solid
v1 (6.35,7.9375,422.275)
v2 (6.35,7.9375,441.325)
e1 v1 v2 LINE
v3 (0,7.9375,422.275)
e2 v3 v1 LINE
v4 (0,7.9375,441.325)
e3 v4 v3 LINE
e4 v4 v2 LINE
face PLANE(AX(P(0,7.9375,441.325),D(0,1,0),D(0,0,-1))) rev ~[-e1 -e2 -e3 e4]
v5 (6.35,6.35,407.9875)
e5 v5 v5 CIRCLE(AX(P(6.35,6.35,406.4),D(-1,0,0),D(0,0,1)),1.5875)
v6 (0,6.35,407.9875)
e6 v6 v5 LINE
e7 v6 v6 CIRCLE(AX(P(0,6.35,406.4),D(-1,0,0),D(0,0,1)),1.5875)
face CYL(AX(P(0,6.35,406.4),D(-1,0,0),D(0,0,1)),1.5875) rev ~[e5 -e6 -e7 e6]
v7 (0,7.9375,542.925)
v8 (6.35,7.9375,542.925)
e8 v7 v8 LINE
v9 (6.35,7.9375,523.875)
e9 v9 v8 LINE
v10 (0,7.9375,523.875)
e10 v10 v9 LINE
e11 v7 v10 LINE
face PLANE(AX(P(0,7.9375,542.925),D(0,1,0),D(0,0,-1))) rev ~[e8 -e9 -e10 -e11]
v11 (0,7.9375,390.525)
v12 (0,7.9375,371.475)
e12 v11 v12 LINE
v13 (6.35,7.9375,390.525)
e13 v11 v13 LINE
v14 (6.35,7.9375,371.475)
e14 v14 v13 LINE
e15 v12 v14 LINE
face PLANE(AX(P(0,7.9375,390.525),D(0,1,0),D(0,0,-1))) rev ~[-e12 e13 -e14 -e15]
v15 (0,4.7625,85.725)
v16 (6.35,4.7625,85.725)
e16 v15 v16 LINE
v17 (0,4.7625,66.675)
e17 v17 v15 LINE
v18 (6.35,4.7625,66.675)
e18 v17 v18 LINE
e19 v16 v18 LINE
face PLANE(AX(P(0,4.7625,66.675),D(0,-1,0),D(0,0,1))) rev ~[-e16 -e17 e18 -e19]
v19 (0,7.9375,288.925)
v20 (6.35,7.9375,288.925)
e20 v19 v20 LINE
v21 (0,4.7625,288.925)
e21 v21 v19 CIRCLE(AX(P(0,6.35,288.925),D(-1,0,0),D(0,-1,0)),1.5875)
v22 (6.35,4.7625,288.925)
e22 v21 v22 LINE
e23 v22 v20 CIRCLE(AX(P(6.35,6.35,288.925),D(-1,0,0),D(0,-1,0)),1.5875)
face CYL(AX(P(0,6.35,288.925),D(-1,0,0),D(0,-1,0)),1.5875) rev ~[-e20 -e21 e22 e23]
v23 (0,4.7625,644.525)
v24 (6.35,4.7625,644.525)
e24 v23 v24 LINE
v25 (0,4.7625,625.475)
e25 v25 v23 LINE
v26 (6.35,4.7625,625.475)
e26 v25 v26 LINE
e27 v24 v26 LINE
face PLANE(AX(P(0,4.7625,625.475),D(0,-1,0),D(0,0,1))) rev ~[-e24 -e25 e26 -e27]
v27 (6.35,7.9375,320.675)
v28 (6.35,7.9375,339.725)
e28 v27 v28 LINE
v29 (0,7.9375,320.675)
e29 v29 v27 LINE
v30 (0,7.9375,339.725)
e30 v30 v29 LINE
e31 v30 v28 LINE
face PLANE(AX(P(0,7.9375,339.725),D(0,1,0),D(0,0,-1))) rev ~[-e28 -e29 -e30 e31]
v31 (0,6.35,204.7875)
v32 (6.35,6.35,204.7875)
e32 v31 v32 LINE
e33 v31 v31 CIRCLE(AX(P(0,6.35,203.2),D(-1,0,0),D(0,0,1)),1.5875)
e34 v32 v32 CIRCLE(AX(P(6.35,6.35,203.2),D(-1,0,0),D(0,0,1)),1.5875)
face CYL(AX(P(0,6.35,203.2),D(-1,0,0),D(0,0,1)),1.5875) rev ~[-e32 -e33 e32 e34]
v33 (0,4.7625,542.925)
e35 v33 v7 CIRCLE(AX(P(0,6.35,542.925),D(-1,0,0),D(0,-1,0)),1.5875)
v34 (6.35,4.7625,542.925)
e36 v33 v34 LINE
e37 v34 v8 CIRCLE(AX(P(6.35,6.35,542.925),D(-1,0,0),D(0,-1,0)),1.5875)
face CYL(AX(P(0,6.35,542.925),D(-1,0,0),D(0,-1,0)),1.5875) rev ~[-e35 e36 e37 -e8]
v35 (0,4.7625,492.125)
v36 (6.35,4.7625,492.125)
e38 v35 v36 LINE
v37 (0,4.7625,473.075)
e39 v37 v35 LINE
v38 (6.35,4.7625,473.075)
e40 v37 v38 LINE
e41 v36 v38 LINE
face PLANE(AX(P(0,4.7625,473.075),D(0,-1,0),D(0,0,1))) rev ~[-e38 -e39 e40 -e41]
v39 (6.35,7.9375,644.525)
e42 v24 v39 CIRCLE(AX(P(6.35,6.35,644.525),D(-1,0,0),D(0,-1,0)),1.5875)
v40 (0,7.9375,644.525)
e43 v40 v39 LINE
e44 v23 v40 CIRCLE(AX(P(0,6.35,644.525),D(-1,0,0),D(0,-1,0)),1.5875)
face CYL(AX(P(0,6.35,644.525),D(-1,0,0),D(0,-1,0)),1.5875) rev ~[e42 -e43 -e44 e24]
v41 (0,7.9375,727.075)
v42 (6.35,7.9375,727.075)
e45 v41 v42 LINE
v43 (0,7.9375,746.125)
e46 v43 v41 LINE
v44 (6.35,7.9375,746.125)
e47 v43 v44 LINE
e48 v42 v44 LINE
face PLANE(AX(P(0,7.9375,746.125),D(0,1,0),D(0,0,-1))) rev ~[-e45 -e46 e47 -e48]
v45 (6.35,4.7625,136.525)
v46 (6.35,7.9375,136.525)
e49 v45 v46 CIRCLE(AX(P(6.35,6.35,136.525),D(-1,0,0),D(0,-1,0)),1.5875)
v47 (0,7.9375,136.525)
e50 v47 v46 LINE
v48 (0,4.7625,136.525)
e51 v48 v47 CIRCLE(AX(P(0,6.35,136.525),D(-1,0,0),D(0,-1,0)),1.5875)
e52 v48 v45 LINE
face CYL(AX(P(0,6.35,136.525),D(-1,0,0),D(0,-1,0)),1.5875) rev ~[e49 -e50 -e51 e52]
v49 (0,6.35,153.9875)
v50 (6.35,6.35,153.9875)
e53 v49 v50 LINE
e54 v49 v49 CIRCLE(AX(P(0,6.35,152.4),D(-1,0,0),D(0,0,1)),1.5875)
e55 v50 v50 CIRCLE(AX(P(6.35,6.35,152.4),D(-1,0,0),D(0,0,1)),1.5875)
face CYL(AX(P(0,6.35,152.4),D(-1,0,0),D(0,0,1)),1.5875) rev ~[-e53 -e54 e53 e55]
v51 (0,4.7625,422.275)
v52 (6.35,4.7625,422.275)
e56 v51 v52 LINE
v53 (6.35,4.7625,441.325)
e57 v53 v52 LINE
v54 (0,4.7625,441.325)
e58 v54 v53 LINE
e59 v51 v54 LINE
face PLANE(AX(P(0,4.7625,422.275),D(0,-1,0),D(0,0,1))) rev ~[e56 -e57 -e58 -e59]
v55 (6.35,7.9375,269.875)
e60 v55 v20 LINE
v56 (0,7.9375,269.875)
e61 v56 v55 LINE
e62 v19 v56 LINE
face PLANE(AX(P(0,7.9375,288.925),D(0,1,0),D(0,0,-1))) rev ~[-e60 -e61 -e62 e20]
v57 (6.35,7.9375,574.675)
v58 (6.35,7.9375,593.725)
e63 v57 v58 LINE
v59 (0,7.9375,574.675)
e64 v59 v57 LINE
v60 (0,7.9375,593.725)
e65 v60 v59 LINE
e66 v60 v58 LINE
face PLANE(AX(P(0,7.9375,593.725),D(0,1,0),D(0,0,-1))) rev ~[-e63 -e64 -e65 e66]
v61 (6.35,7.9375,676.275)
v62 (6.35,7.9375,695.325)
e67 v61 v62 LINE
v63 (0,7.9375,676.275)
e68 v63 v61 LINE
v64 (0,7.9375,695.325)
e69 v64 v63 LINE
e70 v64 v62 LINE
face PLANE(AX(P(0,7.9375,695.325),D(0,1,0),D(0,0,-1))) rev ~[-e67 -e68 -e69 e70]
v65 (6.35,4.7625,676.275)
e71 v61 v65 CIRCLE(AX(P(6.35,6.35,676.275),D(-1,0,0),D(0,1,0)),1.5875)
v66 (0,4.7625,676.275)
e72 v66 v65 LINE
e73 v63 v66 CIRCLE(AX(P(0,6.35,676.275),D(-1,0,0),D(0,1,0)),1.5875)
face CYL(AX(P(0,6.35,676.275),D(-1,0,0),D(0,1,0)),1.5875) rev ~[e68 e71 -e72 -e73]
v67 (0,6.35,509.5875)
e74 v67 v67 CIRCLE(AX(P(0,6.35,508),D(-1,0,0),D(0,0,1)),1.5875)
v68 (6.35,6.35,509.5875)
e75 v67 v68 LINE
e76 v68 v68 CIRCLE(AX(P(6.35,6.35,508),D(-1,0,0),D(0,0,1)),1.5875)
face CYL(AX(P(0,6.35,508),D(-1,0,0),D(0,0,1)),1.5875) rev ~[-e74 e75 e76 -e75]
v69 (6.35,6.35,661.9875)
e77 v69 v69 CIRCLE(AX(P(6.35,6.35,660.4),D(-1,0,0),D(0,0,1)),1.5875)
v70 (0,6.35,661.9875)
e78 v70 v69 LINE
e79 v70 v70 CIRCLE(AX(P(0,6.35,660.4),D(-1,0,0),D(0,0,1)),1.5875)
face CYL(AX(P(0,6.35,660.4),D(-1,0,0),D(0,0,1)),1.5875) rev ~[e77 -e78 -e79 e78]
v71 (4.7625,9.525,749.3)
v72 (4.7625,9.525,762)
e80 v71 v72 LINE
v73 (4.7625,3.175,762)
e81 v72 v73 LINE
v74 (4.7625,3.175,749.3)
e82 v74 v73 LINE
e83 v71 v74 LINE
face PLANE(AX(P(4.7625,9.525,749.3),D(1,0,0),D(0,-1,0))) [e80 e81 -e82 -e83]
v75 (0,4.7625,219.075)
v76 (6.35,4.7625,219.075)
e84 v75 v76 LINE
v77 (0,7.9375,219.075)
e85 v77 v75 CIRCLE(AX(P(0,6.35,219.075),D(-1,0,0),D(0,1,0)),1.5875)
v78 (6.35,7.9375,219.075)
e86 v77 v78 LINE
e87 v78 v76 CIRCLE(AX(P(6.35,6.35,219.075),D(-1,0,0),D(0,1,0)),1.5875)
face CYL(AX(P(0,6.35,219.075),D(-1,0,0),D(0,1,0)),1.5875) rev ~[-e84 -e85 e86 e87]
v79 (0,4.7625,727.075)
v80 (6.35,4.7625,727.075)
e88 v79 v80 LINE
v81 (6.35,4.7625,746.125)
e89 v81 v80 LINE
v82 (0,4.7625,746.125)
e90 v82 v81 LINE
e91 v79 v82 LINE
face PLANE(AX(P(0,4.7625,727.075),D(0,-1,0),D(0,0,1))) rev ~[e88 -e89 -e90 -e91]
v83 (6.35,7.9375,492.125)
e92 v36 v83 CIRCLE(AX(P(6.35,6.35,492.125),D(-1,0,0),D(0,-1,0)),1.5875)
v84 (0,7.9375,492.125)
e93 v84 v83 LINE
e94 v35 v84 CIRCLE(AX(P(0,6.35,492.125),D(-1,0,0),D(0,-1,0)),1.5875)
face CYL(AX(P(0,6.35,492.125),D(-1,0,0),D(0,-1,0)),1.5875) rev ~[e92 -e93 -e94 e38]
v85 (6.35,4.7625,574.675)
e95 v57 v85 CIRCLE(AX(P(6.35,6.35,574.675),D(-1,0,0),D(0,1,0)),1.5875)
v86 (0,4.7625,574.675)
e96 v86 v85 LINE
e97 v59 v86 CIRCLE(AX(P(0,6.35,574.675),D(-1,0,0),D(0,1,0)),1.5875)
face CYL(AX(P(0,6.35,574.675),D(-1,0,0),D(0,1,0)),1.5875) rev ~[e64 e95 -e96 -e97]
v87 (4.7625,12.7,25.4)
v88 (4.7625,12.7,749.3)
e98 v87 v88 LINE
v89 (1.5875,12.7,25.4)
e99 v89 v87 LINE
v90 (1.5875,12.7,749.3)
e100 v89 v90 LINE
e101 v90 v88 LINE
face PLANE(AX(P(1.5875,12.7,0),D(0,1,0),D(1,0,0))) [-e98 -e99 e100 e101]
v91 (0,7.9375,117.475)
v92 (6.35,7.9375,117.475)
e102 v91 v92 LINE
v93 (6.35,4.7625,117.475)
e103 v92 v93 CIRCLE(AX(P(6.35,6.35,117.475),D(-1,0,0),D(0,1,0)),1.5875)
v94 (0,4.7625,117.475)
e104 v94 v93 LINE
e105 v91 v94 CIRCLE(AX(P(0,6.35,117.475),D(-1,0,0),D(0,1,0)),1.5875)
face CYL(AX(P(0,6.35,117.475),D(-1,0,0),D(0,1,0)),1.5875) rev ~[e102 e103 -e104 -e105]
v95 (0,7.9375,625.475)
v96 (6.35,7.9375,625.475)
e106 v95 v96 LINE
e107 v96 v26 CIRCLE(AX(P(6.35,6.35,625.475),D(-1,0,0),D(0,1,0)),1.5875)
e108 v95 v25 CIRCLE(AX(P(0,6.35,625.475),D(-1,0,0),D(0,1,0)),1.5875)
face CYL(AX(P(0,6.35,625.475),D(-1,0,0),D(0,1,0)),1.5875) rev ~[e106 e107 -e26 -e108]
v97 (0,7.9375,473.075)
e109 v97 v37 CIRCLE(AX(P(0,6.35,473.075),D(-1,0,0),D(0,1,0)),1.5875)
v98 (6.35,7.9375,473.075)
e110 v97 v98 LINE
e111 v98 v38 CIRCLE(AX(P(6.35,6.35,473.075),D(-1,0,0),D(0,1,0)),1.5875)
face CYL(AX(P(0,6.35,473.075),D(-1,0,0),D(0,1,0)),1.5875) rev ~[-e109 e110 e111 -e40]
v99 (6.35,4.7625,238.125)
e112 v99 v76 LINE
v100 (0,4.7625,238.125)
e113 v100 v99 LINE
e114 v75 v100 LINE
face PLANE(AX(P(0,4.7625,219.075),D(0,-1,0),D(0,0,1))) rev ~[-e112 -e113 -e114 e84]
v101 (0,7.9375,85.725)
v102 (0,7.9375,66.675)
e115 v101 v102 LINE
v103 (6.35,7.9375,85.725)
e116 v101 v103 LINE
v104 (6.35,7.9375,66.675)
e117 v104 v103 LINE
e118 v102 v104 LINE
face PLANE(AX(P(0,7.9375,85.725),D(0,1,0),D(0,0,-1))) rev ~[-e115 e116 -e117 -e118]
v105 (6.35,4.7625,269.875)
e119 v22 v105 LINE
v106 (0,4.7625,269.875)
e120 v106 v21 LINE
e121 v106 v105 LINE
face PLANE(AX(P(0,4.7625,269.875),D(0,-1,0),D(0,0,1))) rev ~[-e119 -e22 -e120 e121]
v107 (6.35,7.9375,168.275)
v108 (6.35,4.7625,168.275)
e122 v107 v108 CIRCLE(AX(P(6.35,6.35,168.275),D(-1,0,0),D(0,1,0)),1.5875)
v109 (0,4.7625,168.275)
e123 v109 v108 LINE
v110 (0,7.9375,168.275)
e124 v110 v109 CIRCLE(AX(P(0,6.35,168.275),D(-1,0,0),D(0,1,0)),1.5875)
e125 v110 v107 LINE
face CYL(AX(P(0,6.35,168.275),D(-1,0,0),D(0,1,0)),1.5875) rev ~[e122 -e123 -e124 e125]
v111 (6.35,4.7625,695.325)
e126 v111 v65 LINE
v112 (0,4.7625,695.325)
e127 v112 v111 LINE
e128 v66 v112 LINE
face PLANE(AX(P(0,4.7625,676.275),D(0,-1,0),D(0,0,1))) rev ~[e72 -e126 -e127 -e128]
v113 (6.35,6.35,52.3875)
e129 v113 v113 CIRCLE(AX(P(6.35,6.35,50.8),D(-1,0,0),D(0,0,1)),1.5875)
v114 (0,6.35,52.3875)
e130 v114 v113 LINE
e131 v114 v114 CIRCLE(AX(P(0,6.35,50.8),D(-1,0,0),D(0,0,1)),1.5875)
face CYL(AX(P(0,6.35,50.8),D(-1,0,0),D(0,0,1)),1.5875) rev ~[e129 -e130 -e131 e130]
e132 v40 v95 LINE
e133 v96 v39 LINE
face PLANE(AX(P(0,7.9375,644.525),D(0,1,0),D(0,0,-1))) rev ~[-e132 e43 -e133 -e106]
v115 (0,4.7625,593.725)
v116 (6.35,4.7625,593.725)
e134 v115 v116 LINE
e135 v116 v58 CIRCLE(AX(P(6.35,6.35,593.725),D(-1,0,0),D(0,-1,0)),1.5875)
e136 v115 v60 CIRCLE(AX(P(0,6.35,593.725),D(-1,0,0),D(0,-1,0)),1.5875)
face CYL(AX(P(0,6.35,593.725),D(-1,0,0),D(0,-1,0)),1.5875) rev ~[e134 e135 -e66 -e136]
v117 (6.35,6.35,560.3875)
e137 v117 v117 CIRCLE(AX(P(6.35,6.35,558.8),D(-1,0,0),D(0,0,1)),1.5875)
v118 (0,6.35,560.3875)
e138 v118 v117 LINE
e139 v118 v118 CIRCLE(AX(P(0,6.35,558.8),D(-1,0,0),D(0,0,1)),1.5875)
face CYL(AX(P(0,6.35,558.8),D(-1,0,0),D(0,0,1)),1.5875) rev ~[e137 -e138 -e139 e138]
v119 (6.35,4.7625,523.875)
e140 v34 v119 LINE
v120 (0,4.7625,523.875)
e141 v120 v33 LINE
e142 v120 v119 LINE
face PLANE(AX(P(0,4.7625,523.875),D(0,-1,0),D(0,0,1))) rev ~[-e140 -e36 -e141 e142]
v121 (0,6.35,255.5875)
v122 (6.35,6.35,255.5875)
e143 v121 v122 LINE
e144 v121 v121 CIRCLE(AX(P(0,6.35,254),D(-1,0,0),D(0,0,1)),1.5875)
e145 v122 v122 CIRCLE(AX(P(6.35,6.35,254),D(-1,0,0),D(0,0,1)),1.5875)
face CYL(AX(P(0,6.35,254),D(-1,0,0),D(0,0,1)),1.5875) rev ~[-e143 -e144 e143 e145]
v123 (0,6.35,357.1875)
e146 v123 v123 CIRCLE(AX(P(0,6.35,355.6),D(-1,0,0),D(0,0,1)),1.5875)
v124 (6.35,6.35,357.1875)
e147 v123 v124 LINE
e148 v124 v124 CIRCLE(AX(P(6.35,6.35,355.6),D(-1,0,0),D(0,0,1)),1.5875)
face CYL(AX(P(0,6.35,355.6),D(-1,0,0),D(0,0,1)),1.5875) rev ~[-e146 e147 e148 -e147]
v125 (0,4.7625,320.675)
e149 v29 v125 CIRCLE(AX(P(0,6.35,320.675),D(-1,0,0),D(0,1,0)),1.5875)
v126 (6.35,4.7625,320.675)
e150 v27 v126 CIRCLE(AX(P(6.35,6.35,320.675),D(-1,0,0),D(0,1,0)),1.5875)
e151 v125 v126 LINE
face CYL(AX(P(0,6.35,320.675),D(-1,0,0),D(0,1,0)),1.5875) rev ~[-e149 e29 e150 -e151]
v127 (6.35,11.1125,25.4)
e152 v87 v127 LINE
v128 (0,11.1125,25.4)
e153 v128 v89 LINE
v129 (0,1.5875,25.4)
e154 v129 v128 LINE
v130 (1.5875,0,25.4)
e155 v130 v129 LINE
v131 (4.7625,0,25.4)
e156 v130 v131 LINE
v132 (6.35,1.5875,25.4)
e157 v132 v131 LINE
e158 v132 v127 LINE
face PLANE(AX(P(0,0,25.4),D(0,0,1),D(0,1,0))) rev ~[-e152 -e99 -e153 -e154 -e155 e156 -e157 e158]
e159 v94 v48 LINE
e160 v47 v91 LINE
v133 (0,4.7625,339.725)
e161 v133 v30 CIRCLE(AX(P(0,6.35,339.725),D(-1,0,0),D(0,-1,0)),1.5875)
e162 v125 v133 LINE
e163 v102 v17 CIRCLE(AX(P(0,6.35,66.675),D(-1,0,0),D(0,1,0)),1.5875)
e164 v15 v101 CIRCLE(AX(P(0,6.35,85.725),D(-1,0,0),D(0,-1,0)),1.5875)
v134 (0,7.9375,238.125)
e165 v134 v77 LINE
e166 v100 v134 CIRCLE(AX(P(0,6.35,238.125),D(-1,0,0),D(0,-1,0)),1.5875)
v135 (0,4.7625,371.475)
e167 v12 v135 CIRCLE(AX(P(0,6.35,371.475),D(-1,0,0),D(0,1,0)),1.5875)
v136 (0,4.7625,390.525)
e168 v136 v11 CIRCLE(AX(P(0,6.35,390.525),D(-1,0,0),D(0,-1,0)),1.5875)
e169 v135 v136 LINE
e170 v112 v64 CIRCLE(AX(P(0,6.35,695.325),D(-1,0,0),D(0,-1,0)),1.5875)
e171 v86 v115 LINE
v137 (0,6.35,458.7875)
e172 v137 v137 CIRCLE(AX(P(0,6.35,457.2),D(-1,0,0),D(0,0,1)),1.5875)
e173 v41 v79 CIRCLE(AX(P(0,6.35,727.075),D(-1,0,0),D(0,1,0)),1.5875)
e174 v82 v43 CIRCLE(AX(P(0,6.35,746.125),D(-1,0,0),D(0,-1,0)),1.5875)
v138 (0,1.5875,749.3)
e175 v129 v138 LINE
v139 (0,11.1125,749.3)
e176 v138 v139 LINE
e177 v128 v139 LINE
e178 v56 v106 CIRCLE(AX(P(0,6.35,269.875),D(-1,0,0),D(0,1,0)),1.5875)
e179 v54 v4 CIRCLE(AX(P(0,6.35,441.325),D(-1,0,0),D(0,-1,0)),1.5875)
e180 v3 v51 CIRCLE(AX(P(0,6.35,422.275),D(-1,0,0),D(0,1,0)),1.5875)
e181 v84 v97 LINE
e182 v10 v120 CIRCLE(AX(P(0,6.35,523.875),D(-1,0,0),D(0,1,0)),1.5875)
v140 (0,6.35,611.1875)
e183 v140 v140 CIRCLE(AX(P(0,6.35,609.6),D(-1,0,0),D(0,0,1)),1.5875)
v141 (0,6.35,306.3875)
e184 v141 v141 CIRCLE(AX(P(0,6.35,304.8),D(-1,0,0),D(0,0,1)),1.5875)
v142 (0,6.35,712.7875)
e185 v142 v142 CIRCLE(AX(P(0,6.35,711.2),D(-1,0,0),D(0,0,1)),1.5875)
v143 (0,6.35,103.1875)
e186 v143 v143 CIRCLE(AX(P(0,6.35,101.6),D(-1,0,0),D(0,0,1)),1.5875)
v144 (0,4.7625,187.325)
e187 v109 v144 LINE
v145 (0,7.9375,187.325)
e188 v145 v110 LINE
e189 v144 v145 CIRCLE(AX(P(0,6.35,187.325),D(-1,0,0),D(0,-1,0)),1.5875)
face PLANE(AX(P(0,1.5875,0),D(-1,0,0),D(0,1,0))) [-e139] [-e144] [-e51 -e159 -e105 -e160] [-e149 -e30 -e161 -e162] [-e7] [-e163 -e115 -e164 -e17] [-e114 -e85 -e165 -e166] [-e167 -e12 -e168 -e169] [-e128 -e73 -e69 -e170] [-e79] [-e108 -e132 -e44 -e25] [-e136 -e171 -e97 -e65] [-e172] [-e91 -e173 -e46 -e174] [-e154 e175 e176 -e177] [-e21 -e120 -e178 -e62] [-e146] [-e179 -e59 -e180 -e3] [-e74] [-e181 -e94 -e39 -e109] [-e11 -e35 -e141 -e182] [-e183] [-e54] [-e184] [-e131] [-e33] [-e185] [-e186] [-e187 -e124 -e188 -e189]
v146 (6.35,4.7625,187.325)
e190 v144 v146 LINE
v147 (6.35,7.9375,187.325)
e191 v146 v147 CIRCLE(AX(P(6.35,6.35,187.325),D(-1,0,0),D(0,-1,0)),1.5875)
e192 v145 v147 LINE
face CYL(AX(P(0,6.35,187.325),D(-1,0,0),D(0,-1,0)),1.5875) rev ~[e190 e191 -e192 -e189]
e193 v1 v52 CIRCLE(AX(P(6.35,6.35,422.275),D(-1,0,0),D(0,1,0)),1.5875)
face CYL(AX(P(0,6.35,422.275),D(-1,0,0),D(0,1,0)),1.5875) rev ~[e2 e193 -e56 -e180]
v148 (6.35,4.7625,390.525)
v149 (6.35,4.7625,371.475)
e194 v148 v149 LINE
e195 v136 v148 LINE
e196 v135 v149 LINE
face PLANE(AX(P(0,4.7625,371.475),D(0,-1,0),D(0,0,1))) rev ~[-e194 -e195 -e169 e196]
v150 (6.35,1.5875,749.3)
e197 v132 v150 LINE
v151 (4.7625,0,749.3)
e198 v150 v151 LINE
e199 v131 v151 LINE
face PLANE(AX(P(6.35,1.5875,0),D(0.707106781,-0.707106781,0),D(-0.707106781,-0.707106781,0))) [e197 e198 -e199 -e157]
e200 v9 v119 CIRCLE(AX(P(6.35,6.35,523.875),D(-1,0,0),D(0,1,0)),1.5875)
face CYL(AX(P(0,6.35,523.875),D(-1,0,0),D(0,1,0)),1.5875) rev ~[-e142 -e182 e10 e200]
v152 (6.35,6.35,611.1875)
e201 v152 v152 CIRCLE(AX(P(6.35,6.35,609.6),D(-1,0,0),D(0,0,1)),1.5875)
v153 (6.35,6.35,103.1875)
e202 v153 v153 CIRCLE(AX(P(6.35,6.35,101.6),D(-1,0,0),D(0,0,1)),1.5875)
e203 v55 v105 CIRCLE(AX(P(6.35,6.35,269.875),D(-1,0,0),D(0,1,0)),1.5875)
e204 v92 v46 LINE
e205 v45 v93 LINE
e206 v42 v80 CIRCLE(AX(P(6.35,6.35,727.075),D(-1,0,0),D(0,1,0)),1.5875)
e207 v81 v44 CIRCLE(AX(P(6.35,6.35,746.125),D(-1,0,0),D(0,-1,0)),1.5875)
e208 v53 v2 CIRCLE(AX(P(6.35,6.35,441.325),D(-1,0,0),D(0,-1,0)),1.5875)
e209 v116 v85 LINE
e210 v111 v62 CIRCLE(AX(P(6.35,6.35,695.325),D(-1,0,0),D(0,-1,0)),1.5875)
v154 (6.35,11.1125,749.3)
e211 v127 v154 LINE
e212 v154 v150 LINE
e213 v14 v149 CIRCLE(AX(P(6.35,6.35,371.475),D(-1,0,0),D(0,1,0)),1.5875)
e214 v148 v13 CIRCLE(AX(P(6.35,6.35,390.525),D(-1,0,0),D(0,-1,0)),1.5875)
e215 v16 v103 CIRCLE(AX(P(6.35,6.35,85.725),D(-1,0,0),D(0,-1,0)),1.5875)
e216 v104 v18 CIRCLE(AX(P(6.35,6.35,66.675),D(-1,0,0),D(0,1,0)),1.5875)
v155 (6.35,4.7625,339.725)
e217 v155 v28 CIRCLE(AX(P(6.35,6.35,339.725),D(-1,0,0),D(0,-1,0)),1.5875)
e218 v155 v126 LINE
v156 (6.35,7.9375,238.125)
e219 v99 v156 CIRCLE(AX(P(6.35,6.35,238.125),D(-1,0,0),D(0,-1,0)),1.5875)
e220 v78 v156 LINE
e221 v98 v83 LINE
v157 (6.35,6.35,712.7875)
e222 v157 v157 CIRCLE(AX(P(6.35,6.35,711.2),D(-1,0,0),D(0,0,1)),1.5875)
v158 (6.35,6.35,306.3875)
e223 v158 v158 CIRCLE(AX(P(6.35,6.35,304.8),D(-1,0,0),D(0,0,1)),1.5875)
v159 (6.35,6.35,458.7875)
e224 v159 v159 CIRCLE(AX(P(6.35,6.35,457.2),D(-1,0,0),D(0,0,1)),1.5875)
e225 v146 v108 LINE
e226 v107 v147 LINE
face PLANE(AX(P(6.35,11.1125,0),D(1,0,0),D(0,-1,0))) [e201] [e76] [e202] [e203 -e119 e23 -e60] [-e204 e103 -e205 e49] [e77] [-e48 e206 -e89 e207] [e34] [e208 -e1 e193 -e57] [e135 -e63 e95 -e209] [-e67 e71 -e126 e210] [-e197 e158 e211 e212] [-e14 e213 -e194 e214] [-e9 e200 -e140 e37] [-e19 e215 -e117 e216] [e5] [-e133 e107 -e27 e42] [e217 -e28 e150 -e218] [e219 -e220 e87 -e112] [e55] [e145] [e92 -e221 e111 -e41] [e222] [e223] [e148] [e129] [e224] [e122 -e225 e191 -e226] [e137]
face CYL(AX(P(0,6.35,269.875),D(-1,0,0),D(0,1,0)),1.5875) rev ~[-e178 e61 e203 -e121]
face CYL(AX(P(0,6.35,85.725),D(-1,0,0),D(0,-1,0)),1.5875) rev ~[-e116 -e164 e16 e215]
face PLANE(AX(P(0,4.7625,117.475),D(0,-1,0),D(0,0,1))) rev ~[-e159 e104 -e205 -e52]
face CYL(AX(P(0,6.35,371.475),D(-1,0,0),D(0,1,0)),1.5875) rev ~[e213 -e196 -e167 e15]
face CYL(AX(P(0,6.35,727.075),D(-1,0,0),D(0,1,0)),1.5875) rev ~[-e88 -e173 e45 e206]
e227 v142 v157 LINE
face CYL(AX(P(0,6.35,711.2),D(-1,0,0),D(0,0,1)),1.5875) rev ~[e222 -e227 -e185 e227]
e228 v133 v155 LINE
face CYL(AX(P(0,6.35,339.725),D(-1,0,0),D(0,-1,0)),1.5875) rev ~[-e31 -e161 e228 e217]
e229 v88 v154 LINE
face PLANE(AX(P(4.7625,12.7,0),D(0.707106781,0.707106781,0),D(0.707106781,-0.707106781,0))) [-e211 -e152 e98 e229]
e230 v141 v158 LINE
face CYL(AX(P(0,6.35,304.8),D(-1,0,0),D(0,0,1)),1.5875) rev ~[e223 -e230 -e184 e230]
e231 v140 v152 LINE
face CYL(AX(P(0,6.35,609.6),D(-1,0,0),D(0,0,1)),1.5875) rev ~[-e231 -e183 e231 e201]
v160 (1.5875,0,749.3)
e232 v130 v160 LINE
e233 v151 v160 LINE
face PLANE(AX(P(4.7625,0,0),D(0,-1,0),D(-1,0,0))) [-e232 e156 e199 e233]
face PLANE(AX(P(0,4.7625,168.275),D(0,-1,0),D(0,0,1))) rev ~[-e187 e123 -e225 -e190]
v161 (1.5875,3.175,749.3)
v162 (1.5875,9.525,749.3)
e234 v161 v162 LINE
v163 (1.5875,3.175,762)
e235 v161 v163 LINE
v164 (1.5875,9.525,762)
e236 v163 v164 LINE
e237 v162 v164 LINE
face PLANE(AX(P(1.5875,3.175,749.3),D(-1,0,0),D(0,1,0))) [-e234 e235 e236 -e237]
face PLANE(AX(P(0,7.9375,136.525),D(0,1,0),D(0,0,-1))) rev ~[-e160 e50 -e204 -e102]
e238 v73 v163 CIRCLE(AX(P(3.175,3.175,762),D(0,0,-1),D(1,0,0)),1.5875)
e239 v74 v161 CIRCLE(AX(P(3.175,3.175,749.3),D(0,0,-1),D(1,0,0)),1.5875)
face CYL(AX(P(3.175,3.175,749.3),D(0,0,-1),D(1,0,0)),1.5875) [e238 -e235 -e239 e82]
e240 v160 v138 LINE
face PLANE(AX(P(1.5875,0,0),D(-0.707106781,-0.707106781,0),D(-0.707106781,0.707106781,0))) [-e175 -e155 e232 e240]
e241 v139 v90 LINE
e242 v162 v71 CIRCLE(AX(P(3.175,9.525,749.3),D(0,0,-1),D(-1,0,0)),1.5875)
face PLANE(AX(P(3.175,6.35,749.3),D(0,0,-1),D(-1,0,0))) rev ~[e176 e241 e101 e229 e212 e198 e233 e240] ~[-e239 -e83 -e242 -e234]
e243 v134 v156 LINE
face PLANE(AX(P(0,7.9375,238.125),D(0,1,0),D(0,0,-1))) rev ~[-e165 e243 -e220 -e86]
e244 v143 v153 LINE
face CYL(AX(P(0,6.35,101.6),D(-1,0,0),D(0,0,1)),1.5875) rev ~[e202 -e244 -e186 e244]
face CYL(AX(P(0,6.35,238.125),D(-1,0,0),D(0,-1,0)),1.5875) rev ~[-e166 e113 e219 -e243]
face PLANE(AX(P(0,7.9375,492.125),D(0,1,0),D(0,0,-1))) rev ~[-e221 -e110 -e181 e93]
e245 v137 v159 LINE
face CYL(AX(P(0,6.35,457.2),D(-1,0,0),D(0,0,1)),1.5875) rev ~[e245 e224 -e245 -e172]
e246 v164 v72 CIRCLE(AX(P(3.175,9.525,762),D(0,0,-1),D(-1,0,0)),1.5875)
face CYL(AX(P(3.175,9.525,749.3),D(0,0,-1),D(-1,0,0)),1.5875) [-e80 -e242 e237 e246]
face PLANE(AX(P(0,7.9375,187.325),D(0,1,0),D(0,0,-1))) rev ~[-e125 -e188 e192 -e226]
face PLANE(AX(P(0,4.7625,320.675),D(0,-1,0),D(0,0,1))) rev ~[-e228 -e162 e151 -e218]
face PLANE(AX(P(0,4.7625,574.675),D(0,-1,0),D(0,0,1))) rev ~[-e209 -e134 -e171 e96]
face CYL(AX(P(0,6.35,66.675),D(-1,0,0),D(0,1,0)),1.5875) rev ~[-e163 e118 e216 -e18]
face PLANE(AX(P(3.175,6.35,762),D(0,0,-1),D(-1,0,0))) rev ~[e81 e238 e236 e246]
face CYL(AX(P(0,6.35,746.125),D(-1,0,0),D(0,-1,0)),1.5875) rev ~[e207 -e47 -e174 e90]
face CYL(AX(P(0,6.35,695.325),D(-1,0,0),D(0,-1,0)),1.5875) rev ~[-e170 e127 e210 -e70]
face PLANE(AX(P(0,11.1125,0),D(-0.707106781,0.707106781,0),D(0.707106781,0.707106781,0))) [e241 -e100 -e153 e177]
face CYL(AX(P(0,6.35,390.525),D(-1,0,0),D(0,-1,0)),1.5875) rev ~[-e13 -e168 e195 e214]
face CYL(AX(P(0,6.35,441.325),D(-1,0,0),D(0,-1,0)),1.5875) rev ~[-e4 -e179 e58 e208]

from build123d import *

# Parameters (mm, degrees)
BOSS_EXTRUDE1_DEPTH = 749.3
BOSS_EXTRUDE2_DEPTH = 12.7
SKETCH3_W           = 25.4
SKETCH3_H           = 12.7
CUT_EXTRUDE1_DEPTH  = 6.35
SKETCH4_R           = 1.5875
CUT_EXTRUDE2_DEPTH  = 70.358
SKETCH5_R           = 1.5875
CUT_EXTRUDE3_DEPTH  = 70.358


with BuildPart() as part:
    # Sketch1 → Boss-Extrude1 (new body)
    with BuildSketch(Plane.XY):
        Polygon((0, 11.1125), (1.5875, 12.7), (4.7625, 12.7), (6.35, 11.1125), (6.35, 1.5875), (4.7625, 0), (1.5875, 0), (0, 1.5875), align=None)
    extrude(amount=BOSS_EXTRUDE1_DEPTH)

    # Sketch2 → Boss-Extrude2 (add)
    with BuildSketch(Plane.XY.offset(749.3)):
        with BuildLine():
            Line((4.7625, 9.525), (4.7625, 3.175))
            ThreePointArc((4.7625, 3.175), (3.175, 1.5875), (1.5875, 3.175))
            Line((1.5875, 3.175), (1.5875, 9.525))
            ThreePointArc((1.5875, 9.525), (3.175, 11.1125), (4.7625, 9.525))
        make_face()
    extrude(amount=BOSS_EXTRUDE2_DEPTH)

    # Sketch3 → Cut-Extrude1 (cut)
    with BuildSketch(Plane.ZY):
        with Locations((12.7, 6.35)):
            Rectangle(SKETCH3_W, SKETCH3_H)
    extrude(amount=-CUT_EXTRUDE1_DEPTH, mode=Mode.SUBTRACT)

    # Sketch4 → Cut-Extrude2 (cut)
    with BuildSketch(Plane.ZY):
        with BuildLine():
            Line((117.475, 4.7625), (136.525, 4.7625))
            ThreePointArc((136.525, 4.7625), (138.1125, 6.35), (136.525, 7.9375))
            Line((136.525, 7.9375), (117.475, 7.9375))
            ThreePointArc((117.475, 7.9375), (115.8875, 6.35), (117.475, 4.7625))
        make_face()
        with Locations((152.4, 6.35)):
            Circle(SKETCH4_R)
        with BuildLine():
            Line((66.675, 4.7625), (85.725, 4.7625))
            ThreePointArc((85.725, 4.7625), (87.3125, 6.35), (85.725, 7.9375))
            Line((85.725, 7.9375), (66.675, 7.9375))
            ThreePointArc((66.675, 7.9375), (65.0875, 6.35), (66.675, 4.7625))
        make_face()
        with Locations((101.6, 6.35)):
            Circle(SKETCH4_R)
        with BuildLine():
            Line((168.275, 4.7625), (187.325, 4.7625))
            ThreePointArc((187.325, 4.7625), (188.9125, 6.35), (187.325, 7.9375))
            Line((187.325, 7.9375), (168.275, 7.9375))
            ThreePointArc((168.275, 7.9375), (166.6875, 6.35), (168.275, 4.7625))
        make_face()
        with Locations((203.2, 6.35)):
            Circle(SKETCH4_R)
        with BuildLine():
            Line((219.075, 4.7625), (238.125, 4.7625))
            ThreePointArc((238.125, 4.7625), (239.7125, 6.35), (238.125, 7.9375))
            Line((238.125, 7.9375), (219.075, 7.9375))
            ThreePointArc((219.075, 7.9375), (217.4875, 6.35), (219.075, 4.7625))
        make_face()
        with Locations((254, 6.35)):
            Circle(SKETCH4_R)
        with BuildLine():
            Line((269.875, 4.7625), (288.925, 4.7625))
            ThreePointArc((288.925, 4.7625), (290.5125, 6.35), (288.925, 7.9375))
            Line((288.925, 7.9375), (269.875, 7.9375))
            ThreePointArc((269.875, 7.9375), (268.2875, 6.35), (269.875, 4.7625))
        make_face()
        with Locations((304.8, 6.35)):
            Circle(SKETCH4_R)
        with BuildLine():
            Line((320.675, 4.7625), (339.725, 4.7625))
            ThreePointArc((339.725, 4.7625), (341.3125, 6.35), (339.725, 7.9375))
            Line((339.725, 7.9375), (320.675, 7.9375))
            ThreePointArc((320.675, 7.9375), (319.0875, 6.35), (320.675, 4.7625))
        make_face()
        with Locations((355.6, 6.35)):
            Circle(SKETCH4_R)
        with BuildLine():
            Line((371.475, 4.7625), (390.525, 4.7625))
            ThreePointArc((390.525, 4.7625), (392.1125, 6.35), (390.525, 7.9375))
            Line((390.525, 7.9375), (371.475, 7.9375))
            ThreePointArc((371.475, 7.9375), (369.8875, 6.35), (371.475, 4.7625))
        make_face()
        with Locations((406.4, 6.35)):
            Circle(SKETCH4_R)
        with BuildLine():
            Line((422.275, 4.7625), (441.325, 4.7625))
            ThreePointArc((441.325, 4.7625), (442.9125, 6.35), (441.325, 7.9375))
            Line((441.325, 7.9375), (422.275, 7.9375))
            ThreePointArc((422.275, 7.9375), (420.6875, 6.35), (422.275, 4.7625))
        make_face()
        with Locations((457.2, 6.35)):
            Circle(SKETCH4_R)
        with BuildLine():
            Line((473.075, 4.7625), (492.125, 4.7625))
            ThreePointArc((492.125, 4.7625), (493.7125, 6.35), (492.125, 7.9375))
            Line((492.125, 7.9375), (473.075, 7.9375))
            ThreePointArc((473.075, 7.9375), (471.4875, 6.35), (473.075, 4.7625))
        make_face()
        with Locations((508, 6.35)):
            Circle(SKETCH4_R)
        with BuildLine():
            Line((523.875, 4.7625), (542.925, 4.7625))
            ThreePointArc((542.925, 4.7625), (544.5125, 6.35), (542.925, 7.9375))
            Line((542.925, 7.9375), (523.875, 7.9375))
            ThreePointArc((523.875, 7.9375), (522.2875, 6.35), (523.875, 4.7625))
        make_face()
        with Locations((558.8, 6.35)):
            Circle(SKETCH4_R)
        with BuildLine():
            Line((574.675, 4.7625), (593.725, 4.7625))
            ThreePointArc((593.725, 4.7625), (595.3125, 6.35), (593.725, 7.9375))
            Line((593.725, 7.9375), (574.675, 7.9375))
            ThreePointArc((574.675, 7.9375), (573.0875, 6.35), (574.675, 4.7625))
        make_face()
        with Locations((609.6, 6.35)):
            Circle(SKETCH4_R)
        with BuildLine():
            Line((625.475, 4.7625), (644.525, 4.7625))
            ThreePointArc((644.525, 4.7625), (646.1125, 6.35), (644.525, 7.9375))
            Line((644.525, 7.9375), (625.475, 7.9375))
            ThreePointArc((625.475, 7.9375), (623.8875, 6.35), (625.475, 4.7625))
        make_face()
        with Locations((660.4, 6.35)):
            Circle(SKETCH4_R)
        with BuildLine():
            Line((676.275, 4.7625), (695.325, 4.7625))
            ThreePointArc((695.325, 4.7625), (696.9125, 6.35), (695.325, 7.9375))
            Line((695.325, 7.9375), (676.275, 7.9375))
            ThreePointArc((676.275, 7.9375), (674.6875, 6.35), (676.275, 4.7625))
        make_face()
        with Locations((711.2, 6.35)):
            Circle(SKETCH4_R)
        with BuildLine():
            Line((727.075, 4.7625), (746.125, 4.7625))
            ThreePointArc((746.125, 4.7625), (747.7125, 6.35), (746.125, 7.9375))
            Line((746.125, 7.9375), (727.075, 7.9375))
            ThreePointArc((727.075, 7.9375), (725.4875, 6.35), (727.075, 4.7625))
        make_face()
    extrude(amount=-CUT_EXTRUDE2_DEPTH, mode=Mode.SUBTRACT)

    # Sketch5 → Cut-Extrude3 (cut)
    with BuildSketch(Plane.ZY):
        with Locations((50.8, 6.35)):
            Circle(SKETCH5_R)
    extrude(amount=-CUT_EXTRUDE3_DEPTH, mode=Mode.SUBTRACT)


solid = part.part
